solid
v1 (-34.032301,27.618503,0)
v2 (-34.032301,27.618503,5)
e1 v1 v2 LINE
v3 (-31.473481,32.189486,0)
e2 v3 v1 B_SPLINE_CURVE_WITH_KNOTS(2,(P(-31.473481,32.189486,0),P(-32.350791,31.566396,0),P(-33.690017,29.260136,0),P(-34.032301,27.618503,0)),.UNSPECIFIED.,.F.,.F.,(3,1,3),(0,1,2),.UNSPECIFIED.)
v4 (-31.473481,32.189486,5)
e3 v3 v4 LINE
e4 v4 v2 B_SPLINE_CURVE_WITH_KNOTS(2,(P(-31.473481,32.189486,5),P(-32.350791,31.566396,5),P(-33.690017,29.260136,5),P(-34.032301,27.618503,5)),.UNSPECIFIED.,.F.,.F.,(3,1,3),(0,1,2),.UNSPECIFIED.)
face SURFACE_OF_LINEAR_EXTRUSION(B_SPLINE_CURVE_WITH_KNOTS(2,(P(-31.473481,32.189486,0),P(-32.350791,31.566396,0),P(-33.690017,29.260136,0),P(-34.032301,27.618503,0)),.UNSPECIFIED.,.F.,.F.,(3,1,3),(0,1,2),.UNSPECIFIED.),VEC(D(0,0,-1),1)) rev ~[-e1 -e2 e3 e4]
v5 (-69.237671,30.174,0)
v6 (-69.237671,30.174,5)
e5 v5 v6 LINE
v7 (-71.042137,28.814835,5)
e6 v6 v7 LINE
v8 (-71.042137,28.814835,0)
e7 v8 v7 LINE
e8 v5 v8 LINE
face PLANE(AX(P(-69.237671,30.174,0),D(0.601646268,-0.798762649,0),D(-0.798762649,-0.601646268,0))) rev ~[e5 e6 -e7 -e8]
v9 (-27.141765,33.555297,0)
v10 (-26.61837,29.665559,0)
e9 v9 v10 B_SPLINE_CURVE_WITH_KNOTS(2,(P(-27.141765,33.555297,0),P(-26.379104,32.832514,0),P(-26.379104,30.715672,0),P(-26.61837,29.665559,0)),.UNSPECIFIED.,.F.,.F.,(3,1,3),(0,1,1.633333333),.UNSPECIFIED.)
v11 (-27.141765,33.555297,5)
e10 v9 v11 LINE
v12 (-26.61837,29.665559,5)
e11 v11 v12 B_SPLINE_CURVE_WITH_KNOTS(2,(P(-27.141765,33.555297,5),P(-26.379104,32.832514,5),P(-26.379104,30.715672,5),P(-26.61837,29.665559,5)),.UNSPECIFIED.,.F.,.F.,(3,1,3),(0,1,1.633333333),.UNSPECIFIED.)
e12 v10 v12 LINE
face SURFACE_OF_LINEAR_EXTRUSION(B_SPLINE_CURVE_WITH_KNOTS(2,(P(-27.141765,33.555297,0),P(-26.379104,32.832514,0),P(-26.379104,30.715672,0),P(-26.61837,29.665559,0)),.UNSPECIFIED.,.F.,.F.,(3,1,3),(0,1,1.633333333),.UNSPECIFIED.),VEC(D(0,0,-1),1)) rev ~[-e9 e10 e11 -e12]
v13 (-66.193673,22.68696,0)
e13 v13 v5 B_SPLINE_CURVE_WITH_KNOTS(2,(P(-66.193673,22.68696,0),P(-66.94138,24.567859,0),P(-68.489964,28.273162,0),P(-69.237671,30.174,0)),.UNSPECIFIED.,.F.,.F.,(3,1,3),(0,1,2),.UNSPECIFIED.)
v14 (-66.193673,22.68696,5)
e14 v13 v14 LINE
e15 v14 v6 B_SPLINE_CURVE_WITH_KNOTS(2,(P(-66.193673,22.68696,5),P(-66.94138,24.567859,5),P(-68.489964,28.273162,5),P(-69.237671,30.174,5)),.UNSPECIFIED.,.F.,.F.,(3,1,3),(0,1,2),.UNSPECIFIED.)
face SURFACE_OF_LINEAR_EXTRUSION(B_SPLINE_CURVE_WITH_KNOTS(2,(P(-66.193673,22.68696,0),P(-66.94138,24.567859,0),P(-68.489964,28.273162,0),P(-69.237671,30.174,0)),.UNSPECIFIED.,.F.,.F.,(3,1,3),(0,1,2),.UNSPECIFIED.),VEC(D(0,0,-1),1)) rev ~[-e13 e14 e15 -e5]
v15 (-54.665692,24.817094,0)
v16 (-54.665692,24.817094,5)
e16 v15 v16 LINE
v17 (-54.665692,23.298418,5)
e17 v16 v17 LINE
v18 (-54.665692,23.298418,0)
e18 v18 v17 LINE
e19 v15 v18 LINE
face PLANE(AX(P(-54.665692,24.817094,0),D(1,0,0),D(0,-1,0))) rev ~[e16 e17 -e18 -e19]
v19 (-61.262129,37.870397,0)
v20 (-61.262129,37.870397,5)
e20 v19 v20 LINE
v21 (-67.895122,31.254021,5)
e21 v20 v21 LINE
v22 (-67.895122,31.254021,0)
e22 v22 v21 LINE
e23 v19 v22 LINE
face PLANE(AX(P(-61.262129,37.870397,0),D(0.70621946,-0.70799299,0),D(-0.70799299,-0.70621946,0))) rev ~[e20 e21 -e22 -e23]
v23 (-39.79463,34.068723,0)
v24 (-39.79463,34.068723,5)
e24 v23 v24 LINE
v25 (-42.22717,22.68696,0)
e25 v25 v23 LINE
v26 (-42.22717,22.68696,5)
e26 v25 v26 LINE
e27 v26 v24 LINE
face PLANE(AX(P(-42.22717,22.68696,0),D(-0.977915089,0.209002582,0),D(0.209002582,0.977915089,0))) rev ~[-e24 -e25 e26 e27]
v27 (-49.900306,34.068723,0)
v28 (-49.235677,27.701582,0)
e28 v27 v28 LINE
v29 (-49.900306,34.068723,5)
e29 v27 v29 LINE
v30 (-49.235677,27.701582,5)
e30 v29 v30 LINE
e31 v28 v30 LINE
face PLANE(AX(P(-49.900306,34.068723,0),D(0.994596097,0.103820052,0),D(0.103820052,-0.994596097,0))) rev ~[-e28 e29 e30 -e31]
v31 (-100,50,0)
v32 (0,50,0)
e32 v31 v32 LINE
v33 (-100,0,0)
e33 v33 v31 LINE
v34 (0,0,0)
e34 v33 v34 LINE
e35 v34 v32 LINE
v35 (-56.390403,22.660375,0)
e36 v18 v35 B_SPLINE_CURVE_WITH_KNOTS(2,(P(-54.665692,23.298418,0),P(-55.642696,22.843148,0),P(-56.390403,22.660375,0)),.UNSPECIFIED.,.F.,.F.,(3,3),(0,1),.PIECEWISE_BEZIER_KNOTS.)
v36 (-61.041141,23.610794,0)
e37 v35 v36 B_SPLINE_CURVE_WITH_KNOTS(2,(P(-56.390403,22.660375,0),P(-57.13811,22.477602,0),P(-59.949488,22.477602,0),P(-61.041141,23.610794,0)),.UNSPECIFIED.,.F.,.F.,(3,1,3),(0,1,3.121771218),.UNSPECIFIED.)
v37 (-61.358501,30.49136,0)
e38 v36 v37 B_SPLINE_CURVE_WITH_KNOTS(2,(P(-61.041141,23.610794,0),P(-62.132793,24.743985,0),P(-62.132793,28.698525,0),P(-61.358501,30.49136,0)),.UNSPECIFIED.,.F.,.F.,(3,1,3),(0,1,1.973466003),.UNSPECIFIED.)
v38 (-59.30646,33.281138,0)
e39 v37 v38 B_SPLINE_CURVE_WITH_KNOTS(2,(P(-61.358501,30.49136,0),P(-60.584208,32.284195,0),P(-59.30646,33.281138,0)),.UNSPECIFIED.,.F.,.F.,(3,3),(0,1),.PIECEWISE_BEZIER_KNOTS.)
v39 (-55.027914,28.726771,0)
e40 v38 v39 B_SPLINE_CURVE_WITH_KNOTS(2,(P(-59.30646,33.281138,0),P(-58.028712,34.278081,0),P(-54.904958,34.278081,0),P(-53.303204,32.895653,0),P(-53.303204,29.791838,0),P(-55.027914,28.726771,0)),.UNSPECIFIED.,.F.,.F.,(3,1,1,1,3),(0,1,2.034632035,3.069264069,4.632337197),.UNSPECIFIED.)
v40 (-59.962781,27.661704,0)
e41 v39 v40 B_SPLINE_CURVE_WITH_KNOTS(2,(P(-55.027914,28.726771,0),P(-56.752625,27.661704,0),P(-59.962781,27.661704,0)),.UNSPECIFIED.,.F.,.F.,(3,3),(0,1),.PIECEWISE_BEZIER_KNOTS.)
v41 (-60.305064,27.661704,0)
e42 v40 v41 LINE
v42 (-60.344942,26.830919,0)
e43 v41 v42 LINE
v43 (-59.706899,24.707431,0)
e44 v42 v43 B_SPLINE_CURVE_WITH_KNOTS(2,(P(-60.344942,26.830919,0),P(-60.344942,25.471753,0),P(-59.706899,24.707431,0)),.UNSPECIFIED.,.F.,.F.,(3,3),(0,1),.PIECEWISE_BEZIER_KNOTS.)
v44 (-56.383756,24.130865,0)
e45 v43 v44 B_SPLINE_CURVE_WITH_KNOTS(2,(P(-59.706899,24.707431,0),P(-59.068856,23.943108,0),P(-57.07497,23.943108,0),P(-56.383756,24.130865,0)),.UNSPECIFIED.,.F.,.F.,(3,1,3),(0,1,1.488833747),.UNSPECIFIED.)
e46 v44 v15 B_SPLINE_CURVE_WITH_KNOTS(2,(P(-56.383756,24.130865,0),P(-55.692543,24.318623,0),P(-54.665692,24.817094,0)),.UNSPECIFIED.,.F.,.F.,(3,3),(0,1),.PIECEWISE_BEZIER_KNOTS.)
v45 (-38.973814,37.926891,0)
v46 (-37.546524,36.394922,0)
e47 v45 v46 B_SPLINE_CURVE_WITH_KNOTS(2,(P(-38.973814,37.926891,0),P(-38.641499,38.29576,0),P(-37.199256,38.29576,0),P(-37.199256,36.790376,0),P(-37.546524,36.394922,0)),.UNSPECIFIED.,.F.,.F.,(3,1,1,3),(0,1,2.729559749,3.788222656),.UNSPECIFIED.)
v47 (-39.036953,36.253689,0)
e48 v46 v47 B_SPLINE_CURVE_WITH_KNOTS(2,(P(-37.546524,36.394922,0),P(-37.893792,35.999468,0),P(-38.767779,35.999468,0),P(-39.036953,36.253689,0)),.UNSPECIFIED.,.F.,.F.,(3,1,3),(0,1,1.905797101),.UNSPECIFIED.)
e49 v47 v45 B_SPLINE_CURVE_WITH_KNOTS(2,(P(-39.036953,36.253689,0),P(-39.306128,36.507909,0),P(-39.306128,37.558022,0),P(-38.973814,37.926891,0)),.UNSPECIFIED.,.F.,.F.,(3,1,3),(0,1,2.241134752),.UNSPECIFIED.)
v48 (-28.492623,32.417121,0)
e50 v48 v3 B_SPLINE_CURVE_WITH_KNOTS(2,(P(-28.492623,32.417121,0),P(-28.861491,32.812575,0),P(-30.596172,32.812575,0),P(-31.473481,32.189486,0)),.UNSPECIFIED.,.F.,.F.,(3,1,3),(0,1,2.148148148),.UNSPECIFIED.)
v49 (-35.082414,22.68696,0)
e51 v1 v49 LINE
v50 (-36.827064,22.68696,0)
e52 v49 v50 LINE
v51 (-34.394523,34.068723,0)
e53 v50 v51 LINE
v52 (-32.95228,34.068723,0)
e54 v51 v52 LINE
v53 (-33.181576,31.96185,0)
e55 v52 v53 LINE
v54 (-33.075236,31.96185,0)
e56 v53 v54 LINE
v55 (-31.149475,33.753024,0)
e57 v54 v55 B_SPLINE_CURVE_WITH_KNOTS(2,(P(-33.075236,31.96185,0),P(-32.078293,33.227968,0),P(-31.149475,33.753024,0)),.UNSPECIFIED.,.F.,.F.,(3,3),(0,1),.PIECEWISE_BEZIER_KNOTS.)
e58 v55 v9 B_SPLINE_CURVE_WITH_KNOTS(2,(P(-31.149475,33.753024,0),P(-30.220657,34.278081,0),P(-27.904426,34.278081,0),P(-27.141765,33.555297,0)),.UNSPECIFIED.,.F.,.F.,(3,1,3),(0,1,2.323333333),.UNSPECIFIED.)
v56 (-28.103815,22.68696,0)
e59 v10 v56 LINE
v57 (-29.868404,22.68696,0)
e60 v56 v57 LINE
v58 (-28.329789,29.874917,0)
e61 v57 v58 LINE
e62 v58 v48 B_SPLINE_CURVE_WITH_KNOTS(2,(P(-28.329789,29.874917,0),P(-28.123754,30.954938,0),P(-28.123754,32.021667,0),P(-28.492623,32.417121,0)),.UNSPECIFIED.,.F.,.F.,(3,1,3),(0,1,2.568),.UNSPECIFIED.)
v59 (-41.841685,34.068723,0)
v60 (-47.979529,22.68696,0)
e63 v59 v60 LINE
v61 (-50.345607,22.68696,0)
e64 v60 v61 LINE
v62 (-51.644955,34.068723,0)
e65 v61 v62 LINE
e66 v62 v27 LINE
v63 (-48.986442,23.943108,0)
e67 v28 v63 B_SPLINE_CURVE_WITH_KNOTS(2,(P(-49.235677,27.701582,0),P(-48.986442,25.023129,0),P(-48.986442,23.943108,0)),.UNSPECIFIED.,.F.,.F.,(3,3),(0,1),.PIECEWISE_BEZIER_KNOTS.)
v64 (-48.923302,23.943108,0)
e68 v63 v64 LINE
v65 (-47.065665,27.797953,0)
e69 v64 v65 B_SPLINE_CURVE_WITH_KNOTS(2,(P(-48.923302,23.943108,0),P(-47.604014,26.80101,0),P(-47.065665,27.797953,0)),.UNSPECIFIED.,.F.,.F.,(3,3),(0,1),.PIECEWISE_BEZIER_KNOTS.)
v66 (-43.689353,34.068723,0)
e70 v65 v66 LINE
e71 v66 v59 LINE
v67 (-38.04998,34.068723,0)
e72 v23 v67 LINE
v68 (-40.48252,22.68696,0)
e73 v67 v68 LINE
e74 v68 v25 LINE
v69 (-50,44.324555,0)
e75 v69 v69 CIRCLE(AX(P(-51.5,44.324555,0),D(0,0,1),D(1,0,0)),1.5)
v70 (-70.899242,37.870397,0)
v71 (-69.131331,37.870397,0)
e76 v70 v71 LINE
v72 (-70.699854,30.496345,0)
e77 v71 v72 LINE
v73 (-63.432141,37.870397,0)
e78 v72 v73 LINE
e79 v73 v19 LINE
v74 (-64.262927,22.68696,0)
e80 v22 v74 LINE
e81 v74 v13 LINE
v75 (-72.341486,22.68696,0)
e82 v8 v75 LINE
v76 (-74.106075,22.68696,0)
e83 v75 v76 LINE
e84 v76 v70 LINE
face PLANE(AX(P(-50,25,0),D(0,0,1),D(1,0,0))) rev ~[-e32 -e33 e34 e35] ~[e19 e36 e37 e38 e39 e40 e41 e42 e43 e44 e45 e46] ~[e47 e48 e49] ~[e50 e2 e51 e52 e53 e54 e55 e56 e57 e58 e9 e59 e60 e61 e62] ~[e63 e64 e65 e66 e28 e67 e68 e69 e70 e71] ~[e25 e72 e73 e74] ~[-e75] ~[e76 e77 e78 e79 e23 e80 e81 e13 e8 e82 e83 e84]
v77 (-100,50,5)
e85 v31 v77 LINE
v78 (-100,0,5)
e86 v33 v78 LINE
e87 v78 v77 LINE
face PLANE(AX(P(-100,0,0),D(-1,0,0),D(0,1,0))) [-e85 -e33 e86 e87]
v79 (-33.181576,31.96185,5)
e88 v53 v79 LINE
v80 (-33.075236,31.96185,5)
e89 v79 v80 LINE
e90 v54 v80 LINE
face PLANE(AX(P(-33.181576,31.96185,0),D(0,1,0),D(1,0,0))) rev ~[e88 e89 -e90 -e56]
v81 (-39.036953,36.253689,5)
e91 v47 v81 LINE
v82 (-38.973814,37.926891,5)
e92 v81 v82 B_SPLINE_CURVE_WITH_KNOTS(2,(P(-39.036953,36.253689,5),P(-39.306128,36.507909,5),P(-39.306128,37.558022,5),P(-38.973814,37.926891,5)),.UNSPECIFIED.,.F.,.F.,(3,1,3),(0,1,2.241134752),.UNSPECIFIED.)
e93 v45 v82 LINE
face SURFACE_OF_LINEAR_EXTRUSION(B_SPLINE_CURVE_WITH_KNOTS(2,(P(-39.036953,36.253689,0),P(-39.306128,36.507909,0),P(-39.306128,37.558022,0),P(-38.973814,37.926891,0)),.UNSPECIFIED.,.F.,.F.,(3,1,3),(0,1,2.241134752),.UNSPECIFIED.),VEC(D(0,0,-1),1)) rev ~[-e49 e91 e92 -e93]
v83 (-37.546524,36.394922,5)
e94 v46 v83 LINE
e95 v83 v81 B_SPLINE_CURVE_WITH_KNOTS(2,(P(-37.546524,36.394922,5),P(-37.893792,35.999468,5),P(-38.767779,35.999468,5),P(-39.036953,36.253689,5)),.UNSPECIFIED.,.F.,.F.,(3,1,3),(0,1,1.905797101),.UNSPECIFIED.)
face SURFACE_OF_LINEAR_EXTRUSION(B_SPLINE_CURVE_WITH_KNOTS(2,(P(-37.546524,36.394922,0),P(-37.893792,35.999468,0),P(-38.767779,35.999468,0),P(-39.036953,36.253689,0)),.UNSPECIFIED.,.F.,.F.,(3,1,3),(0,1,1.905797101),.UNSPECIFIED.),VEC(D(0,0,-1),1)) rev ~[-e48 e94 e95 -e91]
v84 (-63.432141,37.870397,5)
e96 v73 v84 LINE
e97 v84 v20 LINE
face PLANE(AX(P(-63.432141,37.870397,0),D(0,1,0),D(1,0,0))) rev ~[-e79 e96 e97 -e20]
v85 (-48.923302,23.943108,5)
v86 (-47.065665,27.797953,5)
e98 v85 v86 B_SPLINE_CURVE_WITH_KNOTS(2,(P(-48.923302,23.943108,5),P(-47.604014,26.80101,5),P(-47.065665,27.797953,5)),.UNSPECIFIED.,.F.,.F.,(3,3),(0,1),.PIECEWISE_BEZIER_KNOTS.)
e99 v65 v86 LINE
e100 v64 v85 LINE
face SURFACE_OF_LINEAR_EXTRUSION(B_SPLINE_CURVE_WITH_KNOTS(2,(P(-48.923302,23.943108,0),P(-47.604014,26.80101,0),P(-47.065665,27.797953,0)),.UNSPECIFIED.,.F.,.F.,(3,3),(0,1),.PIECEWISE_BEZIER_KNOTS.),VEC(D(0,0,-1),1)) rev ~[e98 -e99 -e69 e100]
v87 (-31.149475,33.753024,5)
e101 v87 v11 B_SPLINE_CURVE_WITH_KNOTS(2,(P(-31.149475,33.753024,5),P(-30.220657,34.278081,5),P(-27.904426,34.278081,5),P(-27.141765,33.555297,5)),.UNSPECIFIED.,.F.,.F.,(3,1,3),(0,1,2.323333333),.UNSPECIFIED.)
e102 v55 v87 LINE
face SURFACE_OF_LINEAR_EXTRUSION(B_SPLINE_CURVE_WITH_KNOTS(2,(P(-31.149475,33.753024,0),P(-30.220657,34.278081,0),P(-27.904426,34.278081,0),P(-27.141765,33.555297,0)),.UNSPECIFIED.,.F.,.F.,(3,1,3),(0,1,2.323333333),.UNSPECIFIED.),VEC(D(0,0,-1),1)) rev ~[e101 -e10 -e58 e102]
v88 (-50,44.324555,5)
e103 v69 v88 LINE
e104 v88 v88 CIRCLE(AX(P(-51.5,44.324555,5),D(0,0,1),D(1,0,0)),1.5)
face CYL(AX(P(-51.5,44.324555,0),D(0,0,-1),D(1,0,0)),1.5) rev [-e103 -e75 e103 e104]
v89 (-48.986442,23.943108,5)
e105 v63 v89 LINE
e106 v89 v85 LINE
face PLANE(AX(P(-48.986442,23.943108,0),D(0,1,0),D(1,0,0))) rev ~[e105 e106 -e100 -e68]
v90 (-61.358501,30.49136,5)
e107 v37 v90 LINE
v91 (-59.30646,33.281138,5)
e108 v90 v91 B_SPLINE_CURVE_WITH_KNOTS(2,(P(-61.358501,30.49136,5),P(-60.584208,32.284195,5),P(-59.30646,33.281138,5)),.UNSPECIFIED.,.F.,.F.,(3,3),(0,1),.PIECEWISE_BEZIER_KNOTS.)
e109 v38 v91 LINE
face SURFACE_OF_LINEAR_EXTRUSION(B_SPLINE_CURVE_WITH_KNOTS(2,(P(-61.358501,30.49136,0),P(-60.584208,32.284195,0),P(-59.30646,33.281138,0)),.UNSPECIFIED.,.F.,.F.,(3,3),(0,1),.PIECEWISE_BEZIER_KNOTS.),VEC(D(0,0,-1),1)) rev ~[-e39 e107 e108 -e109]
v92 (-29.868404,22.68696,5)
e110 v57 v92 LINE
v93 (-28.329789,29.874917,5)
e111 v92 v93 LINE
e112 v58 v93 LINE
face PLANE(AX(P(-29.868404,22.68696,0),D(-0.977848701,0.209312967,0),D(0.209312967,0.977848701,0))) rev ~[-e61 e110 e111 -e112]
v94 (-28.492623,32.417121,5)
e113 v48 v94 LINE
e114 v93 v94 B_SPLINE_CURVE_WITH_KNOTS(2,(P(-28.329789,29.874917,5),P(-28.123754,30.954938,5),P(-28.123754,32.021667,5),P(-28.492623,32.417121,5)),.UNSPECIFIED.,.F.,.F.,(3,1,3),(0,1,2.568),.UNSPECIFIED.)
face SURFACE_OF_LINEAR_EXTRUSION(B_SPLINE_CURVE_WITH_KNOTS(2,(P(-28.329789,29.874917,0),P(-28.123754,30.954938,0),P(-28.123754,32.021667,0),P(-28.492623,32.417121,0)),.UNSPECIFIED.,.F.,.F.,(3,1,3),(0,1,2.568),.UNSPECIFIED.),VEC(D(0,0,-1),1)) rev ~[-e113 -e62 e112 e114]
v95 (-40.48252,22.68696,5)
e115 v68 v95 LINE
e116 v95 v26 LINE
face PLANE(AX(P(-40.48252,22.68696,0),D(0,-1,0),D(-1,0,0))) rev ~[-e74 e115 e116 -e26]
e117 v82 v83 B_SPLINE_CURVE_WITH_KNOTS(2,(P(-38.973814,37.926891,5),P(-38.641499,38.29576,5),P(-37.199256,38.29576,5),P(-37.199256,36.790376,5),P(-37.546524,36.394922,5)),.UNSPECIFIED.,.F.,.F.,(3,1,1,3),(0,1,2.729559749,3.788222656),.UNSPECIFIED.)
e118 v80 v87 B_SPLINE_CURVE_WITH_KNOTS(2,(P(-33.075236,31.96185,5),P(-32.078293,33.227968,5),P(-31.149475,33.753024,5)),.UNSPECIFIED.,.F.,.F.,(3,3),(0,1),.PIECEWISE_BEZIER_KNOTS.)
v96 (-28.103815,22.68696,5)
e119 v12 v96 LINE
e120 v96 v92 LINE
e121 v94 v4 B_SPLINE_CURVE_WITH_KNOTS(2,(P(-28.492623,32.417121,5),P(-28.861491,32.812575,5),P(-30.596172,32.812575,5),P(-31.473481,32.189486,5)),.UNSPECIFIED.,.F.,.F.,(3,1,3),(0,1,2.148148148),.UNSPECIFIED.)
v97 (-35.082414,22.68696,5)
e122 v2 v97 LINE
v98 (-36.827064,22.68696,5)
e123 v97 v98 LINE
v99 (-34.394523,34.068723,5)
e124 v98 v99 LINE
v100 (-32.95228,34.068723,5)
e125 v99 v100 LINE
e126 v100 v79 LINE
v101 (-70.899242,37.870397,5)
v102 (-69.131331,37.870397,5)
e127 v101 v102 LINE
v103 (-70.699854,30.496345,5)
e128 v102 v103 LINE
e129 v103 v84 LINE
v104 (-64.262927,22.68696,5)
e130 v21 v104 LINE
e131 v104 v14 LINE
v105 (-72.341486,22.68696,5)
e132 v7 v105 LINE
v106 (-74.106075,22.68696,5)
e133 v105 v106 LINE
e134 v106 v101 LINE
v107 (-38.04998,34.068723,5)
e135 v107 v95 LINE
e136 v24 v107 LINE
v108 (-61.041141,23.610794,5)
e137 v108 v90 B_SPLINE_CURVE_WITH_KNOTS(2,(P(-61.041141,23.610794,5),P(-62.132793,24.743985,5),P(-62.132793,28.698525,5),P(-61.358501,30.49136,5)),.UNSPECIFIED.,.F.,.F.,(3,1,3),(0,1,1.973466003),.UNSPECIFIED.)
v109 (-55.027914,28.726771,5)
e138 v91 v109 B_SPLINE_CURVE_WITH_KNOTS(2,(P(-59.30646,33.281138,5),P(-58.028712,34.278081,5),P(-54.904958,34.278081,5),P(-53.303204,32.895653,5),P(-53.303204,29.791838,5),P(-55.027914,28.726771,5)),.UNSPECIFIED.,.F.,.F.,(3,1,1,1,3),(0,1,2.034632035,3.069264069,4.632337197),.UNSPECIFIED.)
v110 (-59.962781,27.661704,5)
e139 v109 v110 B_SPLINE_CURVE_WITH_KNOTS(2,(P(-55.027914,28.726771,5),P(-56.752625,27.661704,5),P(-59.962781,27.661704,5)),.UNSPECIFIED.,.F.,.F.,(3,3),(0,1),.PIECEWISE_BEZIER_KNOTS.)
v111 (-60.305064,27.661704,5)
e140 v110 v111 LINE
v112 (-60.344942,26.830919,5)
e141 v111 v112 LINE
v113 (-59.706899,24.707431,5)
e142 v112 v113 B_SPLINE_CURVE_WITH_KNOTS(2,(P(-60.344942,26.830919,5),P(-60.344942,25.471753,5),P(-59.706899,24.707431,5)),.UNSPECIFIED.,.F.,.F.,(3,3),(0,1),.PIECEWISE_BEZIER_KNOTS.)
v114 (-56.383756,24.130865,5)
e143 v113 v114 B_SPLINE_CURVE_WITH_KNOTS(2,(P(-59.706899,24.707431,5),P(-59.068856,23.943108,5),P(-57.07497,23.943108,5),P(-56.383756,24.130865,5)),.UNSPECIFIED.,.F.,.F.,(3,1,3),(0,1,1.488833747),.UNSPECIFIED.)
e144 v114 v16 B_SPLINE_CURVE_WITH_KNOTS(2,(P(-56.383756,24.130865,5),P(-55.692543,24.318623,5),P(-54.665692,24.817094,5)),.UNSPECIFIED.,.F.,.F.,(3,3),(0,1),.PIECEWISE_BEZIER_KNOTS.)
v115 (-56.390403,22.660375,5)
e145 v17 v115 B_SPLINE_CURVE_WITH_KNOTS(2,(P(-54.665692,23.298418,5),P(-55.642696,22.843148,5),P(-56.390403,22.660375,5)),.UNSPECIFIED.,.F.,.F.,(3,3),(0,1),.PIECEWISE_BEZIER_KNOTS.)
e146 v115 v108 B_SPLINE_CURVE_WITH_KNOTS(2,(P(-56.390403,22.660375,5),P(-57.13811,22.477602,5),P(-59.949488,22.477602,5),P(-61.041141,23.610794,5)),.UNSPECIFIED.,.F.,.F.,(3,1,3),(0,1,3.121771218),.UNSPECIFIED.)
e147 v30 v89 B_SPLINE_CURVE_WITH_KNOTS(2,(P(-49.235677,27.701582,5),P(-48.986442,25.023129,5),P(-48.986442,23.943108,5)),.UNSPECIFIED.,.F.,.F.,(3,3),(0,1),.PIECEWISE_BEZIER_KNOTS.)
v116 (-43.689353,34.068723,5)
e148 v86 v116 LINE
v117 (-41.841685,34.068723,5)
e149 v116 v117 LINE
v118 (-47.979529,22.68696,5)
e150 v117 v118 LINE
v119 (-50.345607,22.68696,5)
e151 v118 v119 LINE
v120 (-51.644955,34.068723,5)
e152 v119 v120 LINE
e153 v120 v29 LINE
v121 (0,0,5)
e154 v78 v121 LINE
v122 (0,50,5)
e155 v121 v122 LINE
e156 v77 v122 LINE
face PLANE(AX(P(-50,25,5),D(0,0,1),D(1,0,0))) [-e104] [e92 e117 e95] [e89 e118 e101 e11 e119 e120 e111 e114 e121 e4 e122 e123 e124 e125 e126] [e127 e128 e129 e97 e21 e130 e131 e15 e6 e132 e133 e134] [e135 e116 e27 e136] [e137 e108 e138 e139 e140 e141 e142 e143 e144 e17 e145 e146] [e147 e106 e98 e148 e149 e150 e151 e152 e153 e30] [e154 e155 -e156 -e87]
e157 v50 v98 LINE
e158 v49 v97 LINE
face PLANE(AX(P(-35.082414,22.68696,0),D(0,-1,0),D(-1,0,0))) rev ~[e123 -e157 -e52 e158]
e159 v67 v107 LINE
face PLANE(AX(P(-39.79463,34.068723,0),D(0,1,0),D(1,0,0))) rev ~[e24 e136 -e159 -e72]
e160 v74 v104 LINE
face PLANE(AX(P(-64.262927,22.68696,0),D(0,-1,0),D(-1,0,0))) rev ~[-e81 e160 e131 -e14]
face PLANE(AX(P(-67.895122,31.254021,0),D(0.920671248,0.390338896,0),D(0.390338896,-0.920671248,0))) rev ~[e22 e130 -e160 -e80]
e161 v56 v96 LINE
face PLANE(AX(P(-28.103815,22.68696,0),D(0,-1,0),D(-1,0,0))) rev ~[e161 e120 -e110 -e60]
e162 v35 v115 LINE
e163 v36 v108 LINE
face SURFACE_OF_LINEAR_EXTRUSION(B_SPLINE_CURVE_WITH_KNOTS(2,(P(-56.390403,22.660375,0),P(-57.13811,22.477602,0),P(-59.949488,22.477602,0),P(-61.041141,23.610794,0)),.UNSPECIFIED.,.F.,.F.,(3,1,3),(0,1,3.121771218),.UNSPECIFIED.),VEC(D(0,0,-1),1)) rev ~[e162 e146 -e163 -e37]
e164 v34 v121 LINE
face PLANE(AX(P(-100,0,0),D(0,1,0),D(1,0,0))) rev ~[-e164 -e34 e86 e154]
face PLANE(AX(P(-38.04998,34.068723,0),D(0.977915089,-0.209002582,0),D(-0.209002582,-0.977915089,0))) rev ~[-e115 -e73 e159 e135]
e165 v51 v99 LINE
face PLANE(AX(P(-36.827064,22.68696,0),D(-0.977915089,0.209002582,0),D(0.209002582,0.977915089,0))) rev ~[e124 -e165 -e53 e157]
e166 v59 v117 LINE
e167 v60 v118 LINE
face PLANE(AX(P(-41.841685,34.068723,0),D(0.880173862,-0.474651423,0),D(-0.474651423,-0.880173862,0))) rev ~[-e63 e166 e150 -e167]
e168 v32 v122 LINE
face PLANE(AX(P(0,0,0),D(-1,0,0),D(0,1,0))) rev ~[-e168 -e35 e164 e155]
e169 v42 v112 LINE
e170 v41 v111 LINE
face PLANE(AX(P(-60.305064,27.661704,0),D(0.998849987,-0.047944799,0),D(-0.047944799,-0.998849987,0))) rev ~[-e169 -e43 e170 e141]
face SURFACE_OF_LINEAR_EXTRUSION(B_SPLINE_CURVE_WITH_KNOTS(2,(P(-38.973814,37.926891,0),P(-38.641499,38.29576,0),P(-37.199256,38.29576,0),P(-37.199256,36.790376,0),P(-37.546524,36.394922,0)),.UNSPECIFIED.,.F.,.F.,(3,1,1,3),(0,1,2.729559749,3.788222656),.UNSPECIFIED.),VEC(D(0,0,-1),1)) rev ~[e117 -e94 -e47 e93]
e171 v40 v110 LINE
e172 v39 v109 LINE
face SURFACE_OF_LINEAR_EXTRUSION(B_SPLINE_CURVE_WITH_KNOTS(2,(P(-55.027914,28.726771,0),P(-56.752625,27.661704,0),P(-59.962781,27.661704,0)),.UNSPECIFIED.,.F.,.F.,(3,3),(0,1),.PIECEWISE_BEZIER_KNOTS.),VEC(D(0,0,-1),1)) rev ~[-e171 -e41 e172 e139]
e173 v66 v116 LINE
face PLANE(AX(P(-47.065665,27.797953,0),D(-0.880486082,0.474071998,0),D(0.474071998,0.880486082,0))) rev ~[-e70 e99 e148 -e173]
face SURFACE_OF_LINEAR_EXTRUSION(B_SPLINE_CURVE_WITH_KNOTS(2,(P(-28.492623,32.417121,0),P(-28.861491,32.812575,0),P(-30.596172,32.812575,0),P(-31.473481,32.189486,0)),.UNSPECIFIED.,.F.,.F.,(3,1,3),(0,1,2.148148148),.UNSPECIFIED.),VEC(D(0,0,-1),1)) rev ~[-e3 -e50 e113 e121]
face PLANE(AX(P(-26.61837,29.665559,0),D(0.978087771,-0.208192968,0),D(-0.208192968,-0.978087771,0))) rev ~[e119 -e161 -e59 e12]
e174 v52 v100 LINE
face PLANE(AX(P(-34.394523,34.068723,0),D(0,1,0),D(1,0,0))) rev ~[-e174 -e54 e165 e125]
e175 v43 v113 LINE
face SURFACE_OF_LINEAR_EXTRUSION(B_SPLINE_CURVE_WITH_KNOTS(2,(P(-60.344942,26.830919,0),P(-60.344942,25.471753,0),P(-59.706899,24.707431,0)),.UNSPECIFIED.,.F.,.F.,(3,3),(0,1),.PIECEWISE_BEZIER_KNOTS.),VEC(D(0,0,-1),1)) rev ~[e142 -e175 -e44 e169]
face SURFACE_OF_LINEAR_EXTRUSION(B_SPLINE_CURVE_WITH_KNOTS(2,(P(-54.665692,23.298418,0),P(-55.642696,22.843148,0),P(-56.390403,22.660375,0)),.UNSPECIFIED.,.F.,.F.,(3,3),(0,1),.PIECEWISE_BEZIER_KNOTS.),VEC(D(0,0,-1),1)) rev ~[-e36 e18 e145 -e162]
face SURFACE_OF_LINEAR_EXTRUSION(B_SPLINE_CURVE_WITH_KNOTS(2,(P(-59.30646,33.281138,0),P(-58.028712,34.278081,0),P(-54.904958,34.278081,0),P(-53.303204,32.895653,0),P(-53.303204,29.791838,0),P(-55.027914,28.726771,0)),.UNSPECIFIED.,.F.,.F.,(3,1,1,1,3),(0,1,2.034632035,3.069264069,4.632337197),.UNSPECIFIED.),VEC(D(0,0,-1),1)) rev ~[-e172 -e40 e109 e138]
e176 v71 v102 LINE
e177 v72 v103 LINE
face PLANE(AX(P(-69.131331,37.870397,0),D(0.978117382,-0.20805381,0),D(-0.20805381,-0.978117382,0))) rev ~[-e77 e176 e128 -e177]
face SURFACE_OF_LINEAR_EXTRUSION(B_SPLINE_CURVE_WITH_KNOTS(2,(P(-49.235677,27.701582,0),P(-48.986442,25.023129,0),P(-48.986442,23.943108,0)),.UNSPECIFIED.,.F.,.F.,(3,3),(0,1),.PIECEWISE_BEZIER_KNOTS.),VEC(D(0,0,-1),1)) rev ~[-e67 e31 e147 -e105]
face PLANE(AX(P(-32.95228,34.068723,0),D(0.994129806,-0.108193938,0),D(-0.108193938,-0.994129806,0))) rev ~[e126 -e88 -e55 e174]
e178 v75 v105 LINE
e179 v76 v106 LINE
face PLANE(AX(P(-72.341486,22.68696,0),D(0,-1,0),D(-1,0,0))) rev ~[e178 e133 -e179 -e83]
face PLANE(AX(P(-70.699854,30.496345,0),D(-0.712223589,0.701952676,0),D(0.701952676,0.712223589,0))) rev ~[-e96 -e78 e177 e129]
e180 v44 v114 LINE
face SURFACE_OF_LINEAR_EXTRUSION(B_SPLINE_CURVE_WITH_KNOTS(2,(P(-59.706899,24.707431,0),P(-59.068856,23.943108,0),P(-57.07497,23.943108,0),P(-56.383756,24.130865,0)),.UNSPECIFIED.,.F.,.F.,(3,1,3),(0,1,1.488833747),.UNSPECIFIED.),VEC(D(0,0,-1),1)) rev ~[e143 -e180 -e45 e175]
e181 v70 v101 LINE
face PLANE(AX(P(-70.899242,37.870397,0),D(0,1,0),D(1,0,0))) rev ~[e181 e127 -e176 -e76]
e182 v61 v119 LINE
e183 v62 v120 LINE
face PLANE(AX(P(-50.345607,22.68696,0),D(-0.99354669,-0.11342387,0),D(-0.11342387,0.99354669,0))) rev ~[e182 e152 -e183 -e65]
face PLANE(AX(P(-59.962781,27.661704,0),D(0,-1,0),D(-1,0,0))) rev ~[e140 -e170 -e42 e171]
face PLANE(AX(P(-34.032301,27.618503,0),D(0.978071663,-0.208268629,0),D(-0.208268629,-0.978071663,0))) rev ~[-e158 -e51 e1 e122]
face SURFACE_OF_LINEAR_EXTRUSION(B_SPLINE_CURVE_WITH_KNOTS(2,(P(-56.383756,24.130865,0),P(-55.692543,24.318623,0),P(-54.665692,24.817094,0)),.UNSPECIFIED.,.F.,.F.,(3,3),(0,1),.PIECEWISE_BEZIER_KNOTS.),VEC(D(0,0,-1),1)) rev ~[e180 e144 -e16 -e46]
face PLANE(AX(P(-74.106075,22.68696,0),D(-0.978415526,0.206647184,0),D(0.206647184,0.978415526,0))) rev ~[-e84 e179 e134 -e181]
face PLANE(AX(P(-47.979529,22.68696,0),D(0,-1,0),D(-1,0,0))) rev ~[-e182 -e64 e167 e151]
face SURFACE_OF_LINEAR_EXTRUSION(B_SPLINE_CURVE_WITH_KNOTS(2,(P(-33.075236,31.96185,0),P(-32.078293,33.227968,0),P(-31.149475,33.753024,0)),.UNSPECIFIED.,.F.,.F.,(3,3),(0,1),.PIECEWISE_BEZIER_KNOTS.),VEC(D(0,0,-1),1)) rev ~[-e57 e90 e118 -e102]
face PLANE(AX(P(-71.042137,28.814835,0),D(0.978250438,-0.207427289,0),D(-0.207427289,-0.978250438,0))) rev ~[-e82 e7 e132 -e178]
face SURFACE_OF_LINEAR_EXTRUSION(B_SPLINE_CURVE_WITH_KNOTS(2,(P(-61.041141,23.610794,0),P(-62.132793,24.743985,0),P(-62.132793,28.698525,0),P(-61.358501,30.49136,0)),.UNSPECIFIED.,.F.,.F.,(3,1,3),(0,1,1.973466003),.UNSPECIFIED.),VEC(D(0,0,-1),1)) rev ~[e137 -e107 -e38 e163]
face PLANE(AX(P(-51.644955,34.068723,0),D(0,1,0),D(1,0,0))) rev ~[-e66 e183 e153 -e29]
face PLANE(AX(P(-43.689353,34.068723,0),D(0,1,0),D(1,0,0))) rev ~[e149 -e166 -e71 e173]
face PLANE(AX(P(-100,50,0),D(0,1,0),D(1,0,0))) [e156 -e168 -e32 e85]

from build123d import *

# Parameters (mm, degrees)
F0_W     = 100
F0_H     = 50
F0_R     = 1.5
F1_DEPTH = 5


with BuildPart() as f1:
    # F0 (on Top) → F1 (new body)
    with BuildSketch(Plane.XY):
        with Locations((-50, 25)):
            Rectangle(F0_W, F0_H)
        with BuildLine():
            Line((-67.895121627, 31.2540210023), (-64.2629270238, 22.6869599894))
            Line((-64.2629270238, 22.6869599894), (-66.1936727369, 22.6869599894))
            add(Edge.make_bspline(
                [(-66.1936727369, 22.6869599894), (-66.9413797687, 24.5678585671), (-67.7156719394, 26.4205104347)],
                knots=[0, 0, 0, 1, 1, 1], degree=2))
            add(Edge.make_bspline(
                [(-67.7156719394, 26.4205104347), (-68.4899641101, 28.2731623023), (-69.2376711418, 30.1739997341)],
                knots=[0, 0, 0, 1, 1, 1], degree=2))
            Line((-69.2376711418, 30.1739997341), (-71.0421374452, 28.8148345075))
            Line((-71.0421374452, 28.8148345075), (-72.3414861093, 22.6869599894))
            Line((-72.3414861093, 22.6869599894), (-74.1060747042, 22.6869599894))
            Line((-74.1060747042, 22.6869599894), (-70.8992423235, 37.8703974478))
            Line((-70.8992423235, 37.8703974478), (-69.1313305862, 37.8703974478))
            Line((-69.1313305862, 37.8703974478), (-70.6998537817, 30.4963445434))
            Line((-70.6998537817, 30.4963445434), (-63.4321414329, 37.8703974478))
            Line((-63.4321414329, 37.8703974478), (-61.2621294696, 37.8703974478))
            Line((-61.2621294696, 37.8703974478), (-67.895121627, 31.2540210023))
        make_face(mode=Mode.SUBTRACT)
        with BuildLine():
            add(Edge.make_bspline(
                [(-56.3904027649, 22.6603748505), (-57.1381097966, 22.4776020205), (-58.0386813771, 22.4776020205)],
                knots=[0, 0, 0, 1, 1, 1], degree=2))
            add(Edge.make_bspline(
                [(-58.0386813771, 22.4776020205), (-59.9494882361, 22.4776020205), (-61.0411405025, 23.6107935664)],
                knots=[0, 0, 0, 1, 1, 1], degree=2))
            add(Edge.make_bspline(
                [(-61.0411405025, 23.6107935664), (-62.1327927688, 24.7439851123), (-62.1327927688, 26.7478399575)],
                knots=[0, 0, 0, 1, 1, 1], degree=2))
            add(Edge.make_bspline(
                [(-62.1327927688, 26.7478399575), (-62.1327927688, 28.6985245248), (-61.3585005982, 30.4913598299)],
                knots=[0, 0, 0, 1, 1, 1], degree=2))
            add(Edge.make_bspline(
                [(-61.3585005982, 30.4913598299), (-60.5842084275, 32.2841951349), (-59.3064601888, 33.2811378439)],
                knots=[0, 0, 0, 1, 1, 1], degree=2))
            add(Edge.make_bspline(
                [(-59.3064601888, 33.2811378439), (-58.02871195, 34.278080553), (-56.4934201781, 34.278080553)],
                knots=[0, 0, 0, 1, 1, 1], degree=2))
            add(Edge.make_bspline(
                [(-56.4934201781, 34.278080553), (-54.9049581284, 34.278080553), (-54.1040808188, 33.5868669414)],
                knots=[0, 0, 0, 1, 1, 1], degree=2))
            add(Edge.make_bspline(
                [(-54.1040808188, 33.5868669414), (-53.3032035092, 32.8956533298), (-53.3032035092, 31.6594443706)],
                knots=[0, 0, 0, 1, 1, 1], degree=2))
            add(Edge.make_bspline(
                [(-53.3032035092, 31.6594443706), (-53.3032035092, 29.7918383624), (-55.0279143959, 28.7267712349)],
                knots=[0, 0, 0, 1, 1, 1], degree=2))
            add(Edge.make_bspline(
                [(-55.0279143959, 28.7267712349), (-56.7526252825, 27.6617041074), (-59.9627808055, 27.6617041074)],
                knots=[0, 0, 0, 1, 1, 1], degree=2))
            Line((-59.9627808055, 27.6617041074), (-60.305064469, 27.6617041074))
            Line((-60.305064469, 27.6617041074), (-60.3449421773, 26.8309185165))
            add(Edge.make_bspline(
                [(-60.3449421773, 26.8309185165), (-60.3449421773, 25.4717532899), (-59.7068988435, 24.7074305463)],
                knots=[0, 0, 0, 1, 1, 1], degree=2))
            add(Edge.make_bspline(
                [(-59.7068988435, 24.7074305463), (-59.0688555098, 23.9431078027), (-57.7296291373, 23.9431078027)],
                knots=[0, 0, 0, 1, 1, 1], degree=2))
            add(Edge.make_bspline(
                [(-57.7296291373, 23.9431078027), (-57.0749700917, 23.9431078027), (-56.3837564801, 24.1308653463)],
                knots=[0, 0, 0, 1, 1, 1], degree=2))
            add(Edge.make_bspline(
                [(-56.3837564801, 24.1308653463), (-55.6925428685, 24.3186228898), (-54.6656918782, 24.8170942443)],
                knots=[0, 0, 0, 1, 1, 1], degree=2))
            Line((-54.6656918782, 24.8170942443), (-54.6656918782, 23.2984181842))
            add(Edge.make_bspline(
                [(-54.6656918782, 23.2984181842), (-55.6426957331, 22.8431476804), (-56.3904027649, 22.6603748505)],
                knots=[0, 0, 0, 1, 1, 1], degree=2))
        make_face(mode=Mode.SUBTRACT)
        with Locations((-51.5, 44.3245553203)):
            Circle(F0_R, mode=Mode.SUBTRACT)
        with BuildLine():
            Line((-47.979529443, 22.6869599894), (-50.3456068058, 22.6869599894))
            Line((-50.3456068058, 22.6869599894), (-51.6449554699, 34.0687225841))
            Line((-51.6449554699, 34.0687225841), (-49.9003057291, 34.0687225841))
            Line((-49.9003057291, 34.0687225841), (-49.2356772564, 27.7015818158))
            add(Edge.make_bspline(
                [(-49.2356772564, 27.7015818158), (-48.9864415792, 25.0231290708), (-48.9864415792, 23.9431078027)],
                knots=[0, 0, 0, 1, 1, 1], degree=2))
            Line((-48.9864415792, 23.9431078027), (-48.9233018743, 23.9431078027))
            add(Edge.make_bspline(
                [(-48.9233018743, 23.9431078027), (-47.604014356, 26.8010102353), (-47.0656652931, 27.7979529443)],
                knots=[0, 0, 0, 1, 1, 1], degree=2))
            Line((-47.0656652931, 27.7979529443), (-43.6893526519, 34.0687225841))
            Line((-43.6893526519, 34.0687225841), (-41.8416854978, 34.0687225841))
            Line((-41.8416854978, 34.0687225841), (-47.979529443, 22.6869599894))
        make_face(mode=Mode.SUBTRACT)
        Polygon((-38.0499800611, 34.0687225841), (-40.4825202712, 22.6869599894), (-42.227170012, 22.6869599894), (-39.7946298019, 34.0687225841), align=None, mode=Mode.SUBTRACT)
        with BuildLine():
            Line((-28.1038149674, 22.6869599894), (-29.8684035624, 22.6869599894))
            Line((-29.8684035624, 22.6869599894), (-28.3297886481, 29.8749169214))
            add(Edge.make_bspline(
                [(-28.3297886481, 29.8749169214), (-28.1237538216, 30.9549381896), (-28.1237538216, 31.370330985)],
                knots=[0, 0, 0, 1, 1, 1], degree=2))
            add(Edge.make_bspline(
                [(-28.1237538216, 31.370330985), (-28.1237538216, 32.0216668882), (-28.492622624, 32.4171208295)],
                knots=[0, 0, 0, 1, 1, 1], degree=2))
            add(Edge.make_bspline(
                [(-28.492622624, 32.4171208295), (-28.8614914263, 32.8125747707), (-29.6690150206, 32.8125747707)],
                knots=[0, 0, 0, 1, 1, 1], degree=2))
            add(Edge.make_bspline(
                [(-29.6690150206, 32.8125747707), (-30.59617174, 32.8125747707), (-31.4734813239, 32.1894855776)],
                knots=[0, 0, 0, 1, 1, 1], degree=2))
            add(Edge.make_bspline(
                [(-31.4734813239, 32.1894855776), (-32.3507909079, 31.5663963844), (-33.0204040941, 30.4132659843)],
                knots=[0, 0, 0, 1, 1, 1], degree=2))
            add(Edge.make_bspline(
                [(-33.0204040941, 30.4132659843), (-33.6900172803, 29.2601355842), (-34.0323009438, 27.6185032567)],
                knots=[0, 0, 0, 1, 1, 1], degree=2))
            Line((-34.0323009438, 27.6185032567), (-35.0824139306, 22.6869599894))
            Line((-35.0824139306, 22.6869599894), (-36.8270636714, 22.6869599894))
            Line((-36.8270636714, 22.6869599894), (-34.3945234614, 34.0687225841))
            Line((-34.3945234614, 34.0687225841), (-32.9522796757, 34.0687225841))
            Line((-32.9522796757, 34.0687225841), (-33.1815764987, 31.9618503257))
            Line((-33.1815764987, 31.9618503257), (-33.0752359431, 31.9618503257))
            add(Edge.make_bspline(
                [(-33.0752359431, 31.9618503257), (-32.0782932341, 33.2279675661), (-31.1494749435, 33.7530240596)],
                knots=[0, 0, 0, 1, 1, 1], degree=2))
            add(Edge.make_bspline(
                [(-31.1494749435, 33.7530240596), (-30.2206566529, 34.278080553), (-29.2237139439, 34.278080553)],
                knots=[0, 0, 0, 1, 1, 1], degree=2))
            add(Edge.make_bspline(
                [(-29.2237139439, 34.278080553), (-27.9044264256, 34.278080553), (-27.1417652532, 33.5552970889)],
                knots=[0, 0, 0, 1, 1, 1], degree=2))
            add(Edge.make_bspline(
                [(-27.1417652532, 33.5552970889), (-26.3791040808, 32.8325136249), (-26.3791040808, 31.5364881032)],
                knots=[0, 0, 0, 1, 1, 1], degree=2))
            add(Edge.make_bspline(
                [(-26.3791040808, 31.5364881032), (-26.3791040808, 30.7156719394), (-26.618370331, 29.6655589525)],
                knots=[0, 0, 0, 1, 1, 1], degree=2))
            Line((-26.618370331, 29.6655589525), (-28.1038149674, 22.6869599894))
        make_face(mode=Mode.SUBTRACT)
        with BuildLine():
            add(Edge.make_bspline(
                [(-39.0369533431, 36.253688688), (-39.3061278745, 36.5079090788), (-39.3061278745, 36.9764721521)],
                knots=[0, 0, 0, 1, 1, 1], degree=2))
            add(Edge.make_bspline(
                [(-39.3061278745, 36.9764721521), (-39.3061278745, 37.5580220657), (-38.9738136382, 37.926890868)],
                knots=[0, 0, 0, 1, 1, 1], degree=2))
            add(Edge.make_bspline(
                [(-38.9738136382, 37.926890868), (-38.6414994018, 38.2957596703), (-38.1131197661, 38.2957596703)],
                knots=[0, 0, 0, 1, 1, 1], degree=2))
            add(Edge.make_bspline(
                [(-38.1131197661, 38.2957596703), (-37.1992556161, 38.2957596703), (-37.1992556161, 37.3619566662)],
                knots=[0, 0, 0, 1, 1, 1], degree=2))
            add(Edge.make_bspline(
                [(-37.1992556161, 37.3619566662), (-37.1992556161, 36.7903761797), (-37.5465239931, 36.3949222385)],
                knots=[0, 0, 0, 1, 1, 1], degree=2))
            add(Edge.make_bspline(
                [(-37.5465239931, 36.3949222385), (-37.8937923701, 35.9994682972), (-38.3523860162, 35.9994682972)],
                knots=[0, 0, 0, 1, 1, 1], degree=2))
            add(Edge.make_bspline(
                [(-38.3523860162, 35.9994682972), (-38.7677788116, 35.9994682972), (-39.0369533431, 36.253688688)],
                knots=[0, 0, 0, 1, 1, 1], degree=2))
        make_face(mode=Mode.SUBTRACT)
    extrude(amount=F1_DEPTH)


solid = f1.part
